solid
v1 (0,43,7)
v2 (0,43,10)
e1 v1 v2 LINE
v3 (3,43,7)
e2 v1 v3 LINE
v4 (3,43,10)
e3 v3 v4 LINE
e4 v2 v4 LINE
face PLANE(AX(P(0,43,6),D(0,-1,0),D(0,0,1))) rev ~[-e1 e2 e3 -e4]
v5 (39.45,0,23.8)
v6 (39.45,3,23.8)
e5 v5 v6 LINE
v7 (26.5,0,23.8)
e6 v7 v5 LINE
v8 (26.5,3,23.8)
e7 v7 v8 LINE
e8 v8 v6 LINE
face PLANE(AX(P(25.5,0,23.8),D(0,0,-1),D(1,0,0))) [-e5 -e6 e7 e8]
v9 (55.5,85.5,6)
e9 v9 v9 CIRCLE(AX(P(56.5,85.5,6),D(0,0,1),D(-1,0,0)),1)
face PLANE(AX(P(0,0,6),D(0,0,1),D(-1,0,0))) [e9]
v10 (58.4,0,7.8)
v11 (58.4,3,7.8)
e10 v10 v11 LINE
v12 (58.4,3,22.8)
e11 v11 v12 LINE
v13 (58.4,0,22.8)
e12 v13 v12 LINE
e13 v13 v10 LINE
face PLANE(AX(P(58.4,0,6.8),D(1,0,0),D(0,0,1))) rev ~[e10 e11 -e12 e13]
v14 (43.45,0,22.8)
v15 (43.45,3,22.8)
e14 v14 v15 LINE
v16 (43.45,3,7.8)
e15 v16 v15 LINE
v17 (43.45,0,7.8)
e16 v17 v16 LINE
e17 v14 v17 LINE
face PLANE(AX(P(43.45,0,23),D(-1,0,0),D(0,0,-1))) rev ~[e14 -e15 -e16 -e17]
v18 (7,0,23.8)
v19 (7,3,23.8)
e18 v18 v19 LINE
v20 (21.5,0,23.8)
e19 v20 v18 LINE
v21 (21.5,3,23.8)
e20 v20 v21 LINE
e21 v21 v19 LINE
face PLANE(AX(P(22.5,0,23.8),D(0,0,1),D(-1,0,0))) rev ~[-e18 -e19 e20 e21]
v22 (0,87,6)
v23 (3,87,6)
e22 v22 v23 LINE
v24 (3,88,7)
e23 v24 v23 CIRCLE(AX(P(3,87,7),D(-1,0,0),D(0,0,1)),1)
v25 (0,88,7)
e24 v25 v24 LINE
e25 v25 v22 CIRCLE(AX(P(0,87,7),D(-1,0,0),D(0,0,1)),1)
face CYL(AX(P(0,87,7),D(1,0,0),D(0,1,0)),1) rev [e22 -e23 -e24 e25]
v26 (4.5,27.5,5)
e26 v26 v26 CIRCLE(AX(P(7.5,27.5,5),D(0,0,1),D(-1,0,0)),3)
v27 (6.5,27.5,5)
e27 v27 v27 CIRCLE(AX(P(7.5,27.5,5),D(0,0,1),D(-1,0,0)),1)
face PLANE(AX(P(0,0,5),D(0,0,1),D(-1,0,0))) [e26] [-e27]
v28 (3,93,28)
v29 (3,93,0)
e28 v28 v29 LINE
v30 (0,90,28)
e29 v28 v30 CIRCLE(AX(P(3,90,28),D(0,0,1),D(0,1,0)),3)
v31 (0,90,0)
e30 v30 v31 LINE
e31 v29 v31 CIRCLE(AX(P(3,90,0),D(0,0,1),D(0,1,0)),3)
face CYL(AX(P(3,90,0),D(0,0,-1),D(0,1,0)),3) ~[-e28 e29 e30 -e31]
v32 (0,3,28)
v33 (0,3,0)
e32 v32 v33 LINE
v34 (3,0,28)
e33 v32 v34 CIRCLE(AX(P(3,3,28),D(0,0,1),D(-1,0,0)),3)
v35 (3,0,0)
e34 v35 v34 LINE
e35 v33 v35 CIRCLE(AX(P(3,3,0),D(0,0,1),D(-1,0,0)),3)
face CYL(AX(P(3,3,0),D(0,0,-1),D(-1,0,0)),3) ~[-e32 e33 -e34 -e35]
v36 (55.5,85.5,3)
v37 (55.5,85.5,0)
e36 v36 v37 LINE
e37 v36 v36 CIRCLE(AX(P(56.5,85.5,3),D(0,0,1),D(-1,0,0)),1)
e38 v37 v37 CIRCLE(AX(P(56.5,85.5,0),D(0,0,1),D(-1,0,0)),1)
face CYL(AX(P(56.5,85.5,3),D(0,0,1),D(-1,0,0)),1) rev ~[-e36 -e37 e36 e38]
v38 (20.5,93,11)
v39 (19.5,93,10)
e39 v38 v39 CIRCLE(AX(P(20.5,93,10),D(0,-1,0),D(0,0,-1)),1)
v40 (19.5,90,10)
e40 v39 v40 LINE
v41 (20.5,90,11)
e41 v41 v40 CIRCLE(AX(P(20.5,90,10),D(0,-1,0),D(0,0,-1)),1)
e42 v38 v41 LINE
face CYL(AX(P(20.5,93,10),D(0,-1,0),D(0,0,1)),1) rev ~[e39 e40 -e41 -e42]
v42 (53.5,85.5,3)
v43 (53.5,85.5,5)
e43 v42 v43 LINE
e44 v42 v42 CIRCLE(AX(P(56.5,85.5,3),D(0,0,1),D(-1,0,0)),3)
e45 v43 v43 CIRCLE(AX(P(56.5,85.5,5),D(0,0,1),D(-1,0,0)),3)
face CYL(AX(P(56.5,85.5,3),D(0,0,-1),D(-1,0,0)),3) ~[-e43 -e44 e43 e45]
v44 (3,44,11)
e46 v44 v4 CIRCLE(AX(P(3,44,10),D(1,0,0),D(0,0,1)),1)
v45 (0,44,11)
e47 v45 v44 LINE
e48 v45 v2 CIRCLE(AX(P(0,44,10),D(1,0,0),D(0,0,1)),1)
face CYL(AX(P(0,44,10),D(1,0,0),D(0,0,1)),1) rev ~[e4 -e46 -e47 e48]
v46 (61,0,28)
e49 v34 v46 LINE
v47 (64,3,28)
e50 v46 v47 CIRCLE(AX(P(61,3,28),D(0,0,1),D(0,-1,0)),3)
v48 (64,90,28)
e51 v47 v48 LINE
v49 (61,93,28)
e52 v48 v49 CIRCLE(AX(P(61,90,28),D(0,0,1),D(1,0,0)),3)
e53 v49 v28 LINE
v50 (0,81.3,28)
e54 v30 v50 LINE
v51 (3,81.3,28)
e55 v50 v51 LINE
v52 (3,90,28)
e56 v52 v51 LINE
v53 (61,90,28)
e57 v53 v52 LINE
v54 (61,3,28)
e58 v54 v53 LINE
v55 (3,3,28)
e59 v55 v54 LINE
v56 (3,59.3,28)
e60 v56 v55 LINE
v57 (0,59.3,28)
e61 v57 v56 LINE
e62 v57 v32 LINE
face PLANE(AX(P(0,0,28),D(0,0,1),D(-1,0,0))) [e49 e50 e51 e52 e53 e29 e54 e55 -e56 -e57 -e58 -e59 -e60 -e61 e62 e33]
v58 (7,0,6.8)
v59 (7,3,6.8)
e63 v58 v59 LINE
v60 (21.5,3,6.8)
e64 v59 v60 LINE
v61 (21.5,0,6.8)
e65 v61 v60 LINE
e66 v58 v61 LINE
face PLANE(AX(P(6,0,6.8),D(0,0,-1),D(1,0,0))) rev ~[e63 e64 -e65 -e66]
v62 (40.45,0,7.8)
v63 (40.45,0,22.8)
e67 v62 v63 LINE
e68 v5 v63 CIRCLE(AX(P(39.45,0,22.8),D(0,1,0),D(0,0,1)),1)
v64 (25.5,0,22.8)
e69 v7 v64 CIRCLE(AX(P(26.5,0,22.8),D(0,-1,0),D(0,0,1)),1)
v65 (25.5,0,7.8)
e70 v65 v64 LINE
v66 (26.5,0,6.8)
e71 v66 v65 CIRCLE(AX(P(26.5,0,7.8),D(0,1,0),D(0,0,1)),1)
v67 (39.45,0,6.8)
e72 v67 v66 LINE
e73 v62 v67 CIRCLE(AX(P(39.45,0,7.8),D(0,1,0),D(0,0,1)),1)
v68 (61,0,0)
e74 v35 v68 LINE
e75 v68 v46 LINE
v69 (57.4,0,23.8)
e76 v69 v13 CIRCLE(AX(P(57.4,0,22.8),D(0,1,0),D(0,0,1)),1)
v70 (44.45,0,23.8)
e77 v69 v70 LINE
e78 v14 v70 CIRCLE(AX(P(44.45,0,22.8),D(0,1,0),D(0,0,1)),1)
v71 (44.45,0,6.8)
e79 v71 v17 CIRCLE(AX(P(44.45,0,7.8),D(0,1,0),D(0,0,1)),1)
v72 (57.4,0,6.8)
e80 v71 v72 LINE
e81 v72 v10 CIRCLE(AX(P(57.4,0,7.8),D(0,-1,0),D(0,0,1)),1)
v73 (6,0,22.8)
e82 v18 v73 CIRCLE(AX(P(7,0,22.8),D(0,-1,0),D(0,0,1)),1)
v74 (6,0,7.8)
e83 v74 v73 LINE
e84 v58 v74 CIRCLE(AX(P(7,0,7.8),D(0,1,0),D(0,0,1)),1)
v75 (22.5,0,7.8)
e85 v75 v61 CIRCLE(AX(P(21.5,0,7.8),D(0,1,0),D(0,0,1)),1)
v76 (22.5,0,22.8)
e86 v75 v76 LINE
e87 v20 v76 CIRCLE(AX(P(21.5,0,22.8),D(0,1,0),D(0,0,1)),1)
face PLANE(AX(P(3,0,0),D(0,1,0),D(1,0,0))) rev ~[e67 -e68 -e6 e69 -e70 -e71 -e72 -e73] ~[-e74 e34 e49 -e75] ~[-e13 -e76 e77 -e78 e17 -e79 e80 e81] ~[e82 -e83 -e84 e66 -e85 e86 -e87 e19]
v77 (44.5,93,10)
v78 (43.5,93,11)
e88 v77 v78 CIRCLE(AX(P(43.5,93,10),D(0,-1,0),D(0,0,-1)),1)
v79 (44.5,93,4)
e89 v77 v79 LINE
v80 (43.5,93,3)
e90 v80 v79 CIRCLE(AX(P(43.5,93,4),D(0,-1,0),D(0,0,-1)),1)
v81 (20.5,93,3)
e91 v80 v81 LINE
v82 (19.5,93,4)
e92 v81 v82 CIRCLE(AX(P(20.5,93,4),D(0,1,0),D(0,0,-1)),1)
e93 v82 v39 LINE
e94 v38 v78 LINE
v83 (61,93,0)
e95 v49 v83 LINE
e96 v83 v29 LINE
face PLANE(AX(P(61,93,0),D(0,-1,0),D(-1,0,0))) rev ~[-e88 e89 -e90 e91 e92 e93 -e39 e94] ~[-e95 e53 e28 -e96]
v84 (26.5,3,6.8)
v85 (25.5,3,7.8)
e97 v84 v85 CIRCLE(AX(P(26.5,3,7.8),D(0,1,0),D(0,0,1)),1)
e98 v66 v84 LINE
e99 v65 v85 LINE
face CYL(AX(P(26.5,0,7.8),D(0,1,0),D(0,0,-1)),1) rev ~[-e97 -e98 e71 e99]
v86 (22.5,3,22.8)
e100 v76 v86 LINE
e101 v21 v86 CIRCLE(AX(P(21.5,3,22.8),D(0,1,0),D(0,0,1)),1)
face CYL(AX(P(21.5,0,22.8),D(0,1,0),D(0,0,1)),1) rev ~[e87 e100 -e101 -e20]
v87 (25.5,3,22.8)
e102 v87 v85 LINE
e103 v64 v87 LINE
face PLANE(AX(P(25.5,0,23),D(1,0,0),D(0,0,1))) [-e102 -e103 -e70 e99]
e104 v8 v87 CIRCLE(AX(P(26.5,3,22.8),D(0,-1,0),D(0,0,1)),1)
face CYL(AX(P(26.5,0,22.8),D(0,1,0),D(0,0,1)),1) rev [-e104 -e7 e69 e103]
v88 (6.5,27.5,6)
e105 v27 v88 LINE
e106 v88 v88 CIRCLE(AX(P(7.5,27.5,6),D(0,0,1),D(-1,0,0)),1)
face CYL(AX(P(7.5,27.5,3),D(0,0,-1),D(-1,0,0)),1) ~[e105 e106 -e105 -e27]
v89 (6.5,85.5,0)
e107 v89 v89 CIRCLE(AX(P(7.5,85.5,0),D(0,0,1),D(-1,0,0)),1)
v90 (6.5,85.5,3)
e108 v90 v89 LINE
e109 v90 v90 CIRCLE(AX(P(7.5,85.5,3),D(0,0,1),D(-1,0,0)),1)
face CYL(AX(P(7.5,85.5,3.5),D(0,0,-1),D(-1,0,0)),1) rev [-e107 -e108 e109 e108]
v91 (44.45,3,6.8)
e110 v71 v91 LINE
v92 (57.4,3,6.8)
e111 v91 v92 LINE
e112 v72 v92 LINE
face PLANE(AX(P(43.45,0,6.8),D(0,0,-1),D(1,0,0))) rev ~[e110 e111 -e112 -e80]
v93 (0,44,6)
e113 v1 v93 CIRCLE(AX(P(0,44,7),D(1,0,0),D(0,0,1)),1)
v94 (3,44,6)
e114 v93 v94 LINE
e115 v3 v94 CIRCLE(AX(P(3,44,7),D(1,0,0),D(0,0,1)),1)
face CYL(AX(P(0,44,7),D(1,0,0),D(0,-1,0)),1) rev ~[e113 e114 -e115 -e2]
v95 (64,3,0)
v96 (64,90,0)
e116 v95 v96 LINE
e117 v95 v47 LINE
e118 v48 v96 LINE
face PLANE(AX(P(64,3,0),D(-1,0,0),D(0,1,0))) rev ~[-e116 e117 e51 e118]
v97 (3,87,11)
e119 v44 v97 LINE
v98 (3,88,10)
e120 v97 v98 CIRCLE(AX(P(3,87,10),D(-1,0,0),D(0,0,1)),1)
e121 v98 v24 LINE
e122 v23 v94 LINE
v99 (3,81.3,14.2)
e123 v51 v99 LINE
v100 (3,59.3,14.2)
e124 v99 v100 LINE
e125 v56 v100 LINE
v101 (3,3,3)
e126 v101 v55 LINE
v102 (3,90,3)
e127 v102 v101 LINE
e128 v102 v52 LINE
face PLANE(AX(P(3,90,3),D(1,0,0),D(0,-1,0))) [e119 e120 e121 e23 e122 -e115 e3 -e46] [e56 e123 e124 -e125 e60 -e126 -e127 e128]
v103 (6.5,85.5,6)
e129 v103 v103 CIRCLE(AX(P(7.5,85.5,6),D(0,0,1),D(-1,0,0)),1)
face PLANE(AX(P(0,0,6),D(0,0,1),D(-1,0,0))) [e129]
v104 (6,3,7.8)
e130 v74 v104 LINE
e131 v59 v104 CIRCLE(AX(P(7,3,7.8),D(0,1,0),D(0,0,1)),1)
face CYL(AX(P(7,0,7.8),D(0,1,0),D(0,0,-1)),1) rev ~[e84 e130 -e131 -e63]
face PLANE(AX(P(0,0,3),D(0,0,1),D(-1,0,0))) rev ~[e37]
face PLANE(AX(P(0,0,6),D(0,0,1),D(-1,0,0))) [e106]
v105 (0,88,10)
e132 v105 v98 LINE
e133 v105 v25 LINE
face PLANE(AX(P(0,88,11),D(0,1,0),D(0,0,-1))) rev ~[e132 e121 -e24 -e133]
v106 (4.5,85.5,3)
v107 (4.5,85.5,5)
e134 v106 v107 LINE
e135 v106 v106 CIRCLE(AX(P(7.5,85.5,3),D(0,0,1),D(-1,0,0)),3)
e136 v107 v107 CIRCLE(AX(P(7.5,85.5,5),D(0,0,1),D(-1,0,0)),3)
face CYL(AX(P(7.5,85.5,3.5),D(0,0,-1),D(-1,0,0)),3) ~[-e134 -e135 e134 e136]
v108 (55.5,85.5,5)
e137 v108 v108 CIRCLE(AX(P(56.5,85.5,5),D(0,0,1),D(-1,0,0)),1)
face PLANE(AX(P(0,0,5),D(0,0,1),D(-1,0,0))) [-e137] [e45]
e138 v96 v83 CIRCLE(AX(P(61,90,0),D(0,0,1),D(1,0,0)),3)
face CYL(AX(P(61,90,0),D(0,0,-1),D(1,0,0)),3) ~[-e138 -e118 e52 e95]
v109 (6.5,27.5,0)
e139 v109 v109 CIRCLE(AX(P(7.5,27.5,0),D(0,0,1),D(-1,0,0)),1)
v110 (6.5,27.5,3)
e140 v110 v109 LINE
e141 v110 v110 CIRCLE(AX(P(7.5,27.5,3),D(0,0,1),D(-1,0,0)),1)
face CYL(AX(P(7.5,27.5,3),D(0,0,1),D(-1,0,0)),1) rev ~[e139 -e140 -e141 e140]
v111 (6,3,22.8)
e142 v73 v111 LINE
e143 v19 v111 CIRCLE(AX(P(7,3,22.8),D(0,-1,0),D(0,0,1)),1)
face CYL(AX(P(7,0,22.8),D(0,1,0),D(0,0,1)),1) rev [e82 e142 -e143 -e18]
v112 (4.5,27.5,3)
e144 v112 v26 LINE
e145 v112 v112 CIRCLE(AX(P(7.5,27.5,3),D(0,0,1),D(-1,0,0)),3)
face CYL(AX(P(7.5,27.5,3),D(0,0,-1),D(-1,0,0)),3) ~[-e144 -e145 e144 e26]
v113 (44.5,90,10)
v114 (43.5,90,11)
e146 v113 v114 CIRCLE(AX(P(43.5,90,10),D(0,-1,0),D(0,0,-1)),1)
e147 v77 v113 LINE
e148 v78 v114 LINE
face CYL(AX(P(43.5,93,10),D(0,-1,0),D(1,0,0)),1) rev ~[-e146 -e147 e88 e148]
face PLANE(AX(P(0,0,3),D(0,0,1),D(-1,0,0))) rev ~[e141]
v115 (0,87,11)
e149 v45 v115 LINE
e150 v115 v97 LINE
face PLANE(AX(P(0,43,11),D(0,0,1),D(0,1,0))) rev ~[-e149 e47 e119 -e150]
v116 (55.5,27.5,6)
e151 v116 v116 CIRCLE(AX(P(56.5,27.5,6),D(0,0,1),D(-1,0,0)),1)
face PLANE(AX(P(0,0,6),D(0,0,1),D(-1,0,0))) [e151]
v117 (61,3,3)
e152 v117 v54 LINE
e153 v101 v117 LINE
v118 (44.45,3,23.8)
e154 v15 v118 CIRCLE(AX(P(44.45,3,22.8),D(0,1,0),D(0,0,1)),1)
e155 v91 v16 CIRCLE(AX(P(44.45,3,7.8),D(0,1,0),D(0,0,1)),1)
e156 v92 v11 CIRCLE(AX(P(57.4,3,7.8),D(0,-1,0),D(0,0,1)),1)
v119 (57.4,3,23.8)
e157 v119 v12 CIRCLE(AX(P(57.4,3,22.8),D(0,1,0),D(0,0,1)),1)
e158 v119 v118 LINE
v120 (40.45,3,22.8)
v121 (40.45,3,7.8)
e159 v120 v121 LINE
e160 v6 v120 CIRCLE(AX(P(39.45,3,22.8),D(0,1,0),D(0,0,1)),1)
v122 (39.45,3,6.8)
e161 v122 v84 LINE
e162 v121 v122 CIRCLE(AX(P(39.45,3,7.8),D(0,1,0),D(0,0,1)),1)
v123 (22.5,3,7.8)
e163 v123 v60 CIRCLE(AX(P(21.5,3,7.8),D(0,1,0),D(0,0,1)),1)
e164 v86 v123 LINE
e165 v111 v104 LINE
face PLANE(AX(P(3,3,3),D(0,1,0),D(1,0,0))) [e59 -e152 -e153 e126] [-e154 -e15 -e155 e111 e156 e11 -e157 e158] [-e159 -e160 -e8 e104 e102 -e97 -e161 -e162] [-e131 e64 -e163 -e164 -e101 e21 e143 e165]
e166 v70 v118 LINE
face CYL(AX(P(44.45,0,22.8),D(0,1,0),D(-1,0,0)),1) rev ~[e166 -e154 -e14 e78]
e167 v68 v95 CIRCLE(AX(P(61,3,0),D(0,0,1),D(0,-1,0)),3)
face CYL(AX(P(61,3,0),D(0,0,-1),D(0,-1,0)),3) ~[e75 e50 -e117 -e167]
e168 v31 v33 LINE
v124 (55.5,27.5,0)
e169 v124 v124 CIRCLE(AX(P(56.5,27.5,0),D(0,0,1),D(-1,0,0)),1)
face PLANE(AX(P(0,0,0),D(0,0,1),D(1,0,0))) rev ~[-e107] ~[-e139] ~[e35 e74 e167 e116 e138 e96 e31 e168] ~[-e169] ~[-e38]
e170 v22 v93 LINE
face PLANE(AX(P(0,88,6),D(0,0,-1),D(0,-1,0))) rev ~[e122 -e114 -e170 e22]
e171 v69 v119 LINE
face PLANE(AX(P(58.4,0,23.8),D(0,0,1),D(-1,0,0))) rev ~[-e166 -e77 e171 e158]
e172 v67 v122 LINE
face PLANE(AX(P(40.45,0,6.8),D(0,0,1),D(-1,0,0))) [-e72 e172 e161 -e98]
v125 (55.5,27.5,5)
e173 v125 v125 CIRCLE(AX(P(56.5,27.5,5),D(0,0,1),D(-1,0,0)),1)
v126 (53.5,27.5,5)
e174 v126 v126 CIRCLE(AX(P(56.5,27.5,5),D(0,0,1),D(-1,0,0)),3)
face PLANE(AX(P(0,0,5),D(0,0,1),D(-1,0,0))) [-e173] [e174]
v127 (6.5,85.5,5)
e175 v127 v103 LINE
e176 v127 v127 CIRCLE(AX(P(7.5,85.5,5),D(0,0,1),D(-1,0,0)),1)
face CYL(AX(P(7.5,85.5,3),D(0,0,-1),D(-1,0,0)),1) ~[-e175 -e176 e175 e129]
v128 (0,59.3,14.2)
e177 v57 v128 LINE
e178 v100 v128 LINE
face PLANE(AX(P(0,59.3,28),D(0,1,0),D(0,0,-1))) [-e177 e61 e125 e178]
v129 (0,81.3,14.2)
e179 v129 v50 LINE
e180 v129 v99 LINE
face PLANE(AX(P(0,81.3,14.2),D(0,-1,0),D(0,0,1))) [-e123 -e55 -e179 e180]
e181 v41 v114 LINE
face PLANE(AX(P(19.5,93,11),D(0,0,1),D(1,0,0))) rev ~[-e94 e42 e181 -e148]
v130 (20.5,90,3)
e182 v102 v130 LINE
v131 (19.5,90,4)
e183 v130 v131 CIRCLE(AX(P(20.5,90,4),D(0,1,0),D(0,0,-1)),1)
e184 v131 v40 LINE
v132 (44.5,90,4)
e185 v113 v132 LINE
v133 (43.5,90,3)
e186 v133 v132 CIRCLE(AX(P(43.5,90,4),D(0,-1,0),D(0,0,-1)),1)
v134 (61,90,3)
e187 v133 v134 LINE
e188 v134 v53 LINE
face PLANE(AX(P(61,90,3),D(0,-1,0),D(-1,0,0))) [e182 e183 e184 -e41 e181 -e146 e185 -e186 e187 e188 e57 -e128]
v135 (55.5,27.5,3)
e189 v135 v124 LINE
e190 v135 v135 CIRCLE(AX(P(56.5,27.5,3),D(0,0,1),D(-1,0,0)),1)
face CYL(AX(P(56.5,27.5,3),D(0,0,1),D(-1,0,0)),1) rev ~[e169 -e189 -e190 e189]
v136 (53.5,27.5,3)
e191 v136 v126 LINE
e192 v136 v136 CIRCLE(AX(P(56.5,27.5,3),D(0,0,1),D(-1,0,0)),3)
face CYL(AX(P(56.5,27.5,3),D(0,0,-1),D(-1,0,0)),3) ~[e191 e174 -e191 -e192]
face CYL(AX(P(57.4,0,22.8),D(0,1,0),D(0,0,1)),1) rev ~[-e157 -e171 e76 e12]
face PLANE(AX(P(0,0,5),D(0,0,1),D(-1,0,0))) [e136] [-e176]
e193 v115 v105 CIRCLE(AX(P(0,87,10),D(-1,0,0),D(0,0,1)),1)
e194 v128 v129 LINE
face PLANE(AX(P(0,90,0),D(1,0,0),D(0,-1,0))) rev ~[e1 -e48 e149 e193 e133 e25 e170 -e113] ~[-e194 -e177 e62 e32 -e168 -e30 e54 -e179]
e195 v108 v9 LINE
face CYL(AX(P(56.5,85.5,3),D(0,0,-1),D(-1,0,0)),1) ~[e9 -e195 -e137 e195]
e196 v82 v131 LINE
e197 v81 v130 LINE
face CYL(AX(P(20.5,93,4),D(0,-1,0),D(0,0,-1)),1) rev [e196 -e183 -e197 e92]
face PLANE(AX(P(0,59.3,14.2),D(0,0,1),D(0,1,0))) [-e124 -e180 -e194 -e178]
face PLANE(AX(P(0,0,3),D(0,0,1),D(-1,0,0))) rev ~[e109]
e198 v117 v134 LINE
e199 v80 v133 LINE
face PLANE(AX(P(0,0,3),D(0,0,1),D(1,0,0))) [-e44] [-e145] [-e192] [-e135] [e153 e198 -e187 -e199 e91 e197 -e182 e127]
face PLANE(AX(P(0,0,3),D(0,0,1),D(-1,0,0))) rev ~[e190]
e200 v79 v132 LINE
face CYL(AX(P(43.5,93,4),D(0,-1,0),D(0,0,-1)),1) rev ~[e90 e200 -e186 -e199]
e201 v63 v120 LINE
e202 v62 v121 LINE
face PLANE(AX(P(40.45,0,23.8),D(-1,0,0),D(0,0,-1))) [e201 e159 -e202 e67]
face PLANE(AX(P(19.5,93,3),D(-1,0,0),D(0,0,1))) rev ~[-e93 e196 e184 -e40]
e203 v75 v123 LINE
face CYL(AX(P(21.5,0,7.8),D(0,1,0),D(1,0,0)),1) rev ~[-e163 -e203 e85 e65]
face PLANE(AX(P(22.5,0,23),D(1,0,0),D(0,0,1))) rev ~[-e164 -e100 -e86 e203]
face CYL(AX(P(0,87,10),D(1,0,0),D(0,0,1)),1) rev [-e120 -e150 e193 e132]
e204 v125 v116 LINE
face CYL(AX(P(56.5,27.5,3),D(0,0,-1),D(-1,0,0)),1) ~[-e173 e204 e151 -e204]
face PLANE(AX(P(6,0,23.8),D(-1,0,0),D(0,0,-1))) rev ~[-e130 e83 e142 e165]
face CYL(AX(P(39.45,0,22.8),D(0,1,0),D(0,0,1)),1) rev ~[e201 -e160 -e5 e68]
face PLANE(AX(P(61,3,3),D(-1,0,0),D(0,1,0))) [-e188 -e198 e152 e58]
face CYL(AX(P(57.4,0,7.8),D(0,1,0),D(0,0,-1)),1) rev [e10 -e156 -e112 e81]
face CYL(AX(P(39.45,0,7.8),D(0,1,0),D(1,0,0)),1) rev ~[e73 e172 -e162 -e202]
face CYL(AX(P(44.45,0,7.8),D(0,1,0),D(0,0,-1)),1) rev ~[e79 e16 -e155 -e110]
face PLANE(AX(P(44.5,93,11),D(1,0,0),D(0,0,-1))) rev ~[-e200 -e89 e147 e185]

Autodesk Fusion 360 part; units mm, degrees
sketch "Sketch1" plane through (0, 0, 0) normal (0, 0, 1) x (1, 0, 0)
  line L0 (3, 0) -> (61, 0)
  line L1 (64, 3) -> (64, 90)
  line L2 (61, 93) -> (3, 93)
  line L3 (0, 90) -> (0, 3)
  arc A0 (3, 93) -> (0, 90) centre (3, 90) ccw
  arc A1 (64, 90) -> (61, 93) centre (61, 90) ccw
  arc A2 (61, 0) -> (64, 3) centre (61, 3) ccw
  arc A3 (0, 3) -> (3, 0) centre (3, 3) ccw
  point P0 (64, 0)
  point P1 (0, 93)
  dimension "d1" = 64
  dimension "d2" = 93
  dimension "d3" = 3
  dimension "d4" = 3
extrude "Extrude1" add sketch "Sketch1" along normal blind 3
sketch "Sketch4" plane through (0, 0, 3) normal (0, 0, 1) x (-1, 0, 0)
  arc A0 (0, -3) -> (-3, 0) centre (-3, -3) ccw
  line L0 (-3, 0) -> (-61, 0)
  arc A1 (-61, 0) -> (-64, -3) centre (-61, -3) ccw
  line L1 (-64, -3) -> (-64, -90)
  arc A2 (-64, -90) -> (-61, -93) centre (-61, -90) ccw
  line L2 (-61, -93) -> (-3, -93)
  arc A3 (-3, -93) -> (0, -90) centre (-3, -90) ccw
  line L3 (0, -90) -> (0, -3)
  line L4 (-3, -3) -> (-61, -3)
  line L5 (-61, -3) -> (-61, -90)
  line L6 (-61, -90) -> (-3, -90)
  line L7 (-3, -90) -> (-3, -3)
  dimension "d11" = 58
  dimension "d12" = 87
  dimension "d13" = 3
  dimension "d14" = 3
extrude "Extrude2" add sketch "Sketch4" along normal blind 25
sketch "Sketch5" plane through (0, 0, 0) normal (0, -1, 0) x (1, 0, 0)
  line L0 (3, 0) -> (61, 0)
  line L1 (61, 0) -> (61, 23)
  line L2 (3, 23) -> (61, 23)
  line L3 (6, 6.8) -> (22.5, 6.8)
  line L4 (22.5, 6.8) -> (22.5, 23.8)
  line L5 (22.5, 23.8) -> (6, 23.8)
  line L6 (6, 23.8) -> (6, 6.8)
  line L7 (3, 0) -> (3, 23)
  line L8 (25.5, 23.8) -> (40.45, 23.8)
  line L9 (40.45, 23.8) -> (40.45, 6.8)
  line L10 (40.45, 6.8) -> (25.5, 6.8)
  line L11 (25.5, 6.8) -> (25.5, 23.8)
  line L12 (43.45, 6.8) -> (58.4, 6.8)
  line L13 (58.4, 6.8) -> (58.4, 23.8)
  line L14 (58.4, 23.8) -> (43.45, 23.8)
  line L15 (43.45, 23.8) -> (43.45, 6.8)
  line L16 (3, 0) -> (61, 0)
  line L17 (61, 0) -> (61, 28)
  line L18 (61, 28) -> (3, 28)
  line L19 (3, 28) -> (3, 0)
  dimension "d21" = 16.5
  dimension "d22" = 17
  dimension "d23" = 3
  dimension "d26" = 14.95
  dimension "d27" = 17
  dimension "d29" = 14.95
  dimension "d30" = 17
  dimension "d31" = 3
  dimension "d34" = 3
  dimension "d45" = 6.8
extrude "Extrude4" cut sketch "Sketch5" against normal blind 3 contours L2 L4 L5 L6 | L2 L3 L4 L6 | L2 L12 L13 L15 | L2 L13 L14 L15 | L2 L8 L9 L11 | L2 L9 L10 L11
sketch "Sketch6" plane through (0, 0, 3) normal (0, 0, 1) x (-1, 0, 0)
  line L0 (-3, -3) -> (-61, -3)
  line L1 (-61, -3) -> (-61, -90)
  line L2 (-61, -90) -> (-3, -90)
  line L3 (-3, -90) -> (-3, -3)
  circle A0 centre (-7.5, -85.5) radius 1
  circle A1 centre (-7.5, -85.5) radius 3
  circle A2 centre (-56.5, -85.5) radius 1
  circle A3 centre (-56.5, -85.5) radius 3
  circle A4 centre (-56.5, -27.5) radius 1
  circle A5 centre (-56.5, -27.5) radius 3
  circle A6 centre (-7.5, -27.5) radius 1
  circle A7 centre (-7.5, -27.5) radius 3
  dimension "d35" = 2
  dimension "d36" = 4.5
  dimension "d37" = 4.5
  dimension "d38" = 6
  dimension "d59" = 2
  dimension "d60" = 4.5
  dimension "d61" = 4.5
  dimension "d62" = 6
  dimension "d63" = 2
  dimension "d64" = 4.5
  dimension "d65" = 58
  dimension "d66" = 6
  dimension "d67" = 2
  dimension "d68" = 4.5
  dimension "d69" = 58
  dimension "d70" = 6
extrude "Extrude6" cut sketch "Sketch6" against normal blind 3 contours A0 | A2 | A4 | A6
extrude "Extrude7" add sketch "Sketch6" along normal blind 0.5 contours A1
sketch "Sketch7" plane through (0, 0, 0) normal (-1, 0, 0) x (0, -1, 0)
  line L0 (-90, 0) -> (-3, 0)
  line L1 (-3, 0) -> (-3, 28)
  line L2 (-3, 28) -> (-90, 28)
  line L3 (-90, 28) -> (-90, 0)
  line L4 (-88, 6) -> (-43, 6)
  line L5 (-43, 6) -> (-43, 11)
  line L6 (-43, 11) -> (-88, 11)
  line L7 (-88, 11) -> (-88, 6)
  dimension "d46" = 45
  dimension "d47" = 5
  dimension "d50" = 6
extrude "Extrude8" cut sketch "Sketch7" against normal blind 3 contours L4 L5 L6 L7
sketch "Sketch8" plane through (0, 93, 0) normal (0, 1, 0) x (-1, 0, 0)
  line L0 (-61, 0) -> (-3, 0)
  line L1 (-3, 0) -> (-3, 28)
  line L2 (-3, 28) -> (-61, 28)
  line L3 (-61, 28) -> (-61, 0)
  line L4 (-44.5, 3) -> (-19.5, 3)
  line L5 (-19.5, 3) -> (-19.5, 11)
  line L6 (-19.5, 11) -> (-44.5, 11)
  line L7 (-44.5, 11) -> (-44.5, 3)
  line L8 (-3, 0) -> (-3, 23)
  line L9 (-3, 0) -> (-61, 0)
  dimension "d51" = 25
  dimension "d52" = 8
  dimension "d53" = 16.5
  dimension "d54" = 3
extrude "Extrude9" cut sketch "Sketch8" against normal blind 3 contours L4 L5 L6 L7
extrude "Extrude10" add 1 faces at (9.6751, 86.3269, 3.5) along direction (0, 0, 1) blind 1.5
extrude "Extrude11" add sketch "Sketch6" along normal blind 2 contours A3 | A5 | A7
extrude "Extrude13" add sketch "Sketch6" along normal blind 3 contours A4
extrude "Extrude14" add sketch "Sketch6" along normal blind 3 contours A0 | A2 | A6
sketch "Sketch11" plane through (0, 0, 0) normal (-1, 0, 0) x (0, -1, 0)
  line L0 (-43, 6) -> (-88, 6)
  line L1 (-88, 6) -> (-88, 11)
  line L2 (-88, 11) -> (-43, 11)
  line L3 (-43, 11) -> (-43, 6)
  line L4 (-90, 0) -> (-3, 0)
  line L5 (-3, 0) -> (-3, 28)
  line L6 (-3, 28) -> (-90, 28)
  line L7 (-90, 28) -> (-90, 0)
  line L8 (-81.3, 28) -> (-59.3, 28)
  line L9 (-59.3, 28) -> (-59.3, 14.2)
  line L10 (-59.3, 14.2) -> (-81.3, 14.2)
  line L11 (-81.3, 14.2) -> (-81.3, 28)
  dimension "d85" = 22
  dimension "d86" = 13.8
  dimension "d87" = 8.7
extrude "Extrude15" cut sketch "Sketch11" against normal blind 3 contours L6 L8 L9 L10 L11
fillet "Fillet1" radius 1 1 edges at (1.5, 81.3, 14.2)
fillet "Fillet2" radius 1 21 edges at (1.5, 59.3, 14.2) (44.5, 91.5, 3) (44.5, 91.5, 11) (19.5, 91.5, 3) (19.5, 91.5, 11) (1.5, 43, 6) (6, 1.5, 6.8) (25.5, 1.5, 6.8) (43.45, 1.5, 6.8) (6, 1.5, 23.8) (25.5, 1.5, 23.8) (43.45, 1.5, 23.8) (40.45, 1.5, 23.8) (22.5, 1.5, 23.8) (58.4, 1.5, 23.8) (1.5, 88, 11) (1.5, 88, 6) (22.5, 1.5, 6.8) (40.45, 1.5, 6.8) (58.4, 1.5, 6.8) (1.5, 43, 11)
delete_face "DeleteFace1" 1 faces at (1, 80.5358, 14.2282)
delete_face "DeleteFace2" 1 faces at (1, 59.4854, 14.6199)
